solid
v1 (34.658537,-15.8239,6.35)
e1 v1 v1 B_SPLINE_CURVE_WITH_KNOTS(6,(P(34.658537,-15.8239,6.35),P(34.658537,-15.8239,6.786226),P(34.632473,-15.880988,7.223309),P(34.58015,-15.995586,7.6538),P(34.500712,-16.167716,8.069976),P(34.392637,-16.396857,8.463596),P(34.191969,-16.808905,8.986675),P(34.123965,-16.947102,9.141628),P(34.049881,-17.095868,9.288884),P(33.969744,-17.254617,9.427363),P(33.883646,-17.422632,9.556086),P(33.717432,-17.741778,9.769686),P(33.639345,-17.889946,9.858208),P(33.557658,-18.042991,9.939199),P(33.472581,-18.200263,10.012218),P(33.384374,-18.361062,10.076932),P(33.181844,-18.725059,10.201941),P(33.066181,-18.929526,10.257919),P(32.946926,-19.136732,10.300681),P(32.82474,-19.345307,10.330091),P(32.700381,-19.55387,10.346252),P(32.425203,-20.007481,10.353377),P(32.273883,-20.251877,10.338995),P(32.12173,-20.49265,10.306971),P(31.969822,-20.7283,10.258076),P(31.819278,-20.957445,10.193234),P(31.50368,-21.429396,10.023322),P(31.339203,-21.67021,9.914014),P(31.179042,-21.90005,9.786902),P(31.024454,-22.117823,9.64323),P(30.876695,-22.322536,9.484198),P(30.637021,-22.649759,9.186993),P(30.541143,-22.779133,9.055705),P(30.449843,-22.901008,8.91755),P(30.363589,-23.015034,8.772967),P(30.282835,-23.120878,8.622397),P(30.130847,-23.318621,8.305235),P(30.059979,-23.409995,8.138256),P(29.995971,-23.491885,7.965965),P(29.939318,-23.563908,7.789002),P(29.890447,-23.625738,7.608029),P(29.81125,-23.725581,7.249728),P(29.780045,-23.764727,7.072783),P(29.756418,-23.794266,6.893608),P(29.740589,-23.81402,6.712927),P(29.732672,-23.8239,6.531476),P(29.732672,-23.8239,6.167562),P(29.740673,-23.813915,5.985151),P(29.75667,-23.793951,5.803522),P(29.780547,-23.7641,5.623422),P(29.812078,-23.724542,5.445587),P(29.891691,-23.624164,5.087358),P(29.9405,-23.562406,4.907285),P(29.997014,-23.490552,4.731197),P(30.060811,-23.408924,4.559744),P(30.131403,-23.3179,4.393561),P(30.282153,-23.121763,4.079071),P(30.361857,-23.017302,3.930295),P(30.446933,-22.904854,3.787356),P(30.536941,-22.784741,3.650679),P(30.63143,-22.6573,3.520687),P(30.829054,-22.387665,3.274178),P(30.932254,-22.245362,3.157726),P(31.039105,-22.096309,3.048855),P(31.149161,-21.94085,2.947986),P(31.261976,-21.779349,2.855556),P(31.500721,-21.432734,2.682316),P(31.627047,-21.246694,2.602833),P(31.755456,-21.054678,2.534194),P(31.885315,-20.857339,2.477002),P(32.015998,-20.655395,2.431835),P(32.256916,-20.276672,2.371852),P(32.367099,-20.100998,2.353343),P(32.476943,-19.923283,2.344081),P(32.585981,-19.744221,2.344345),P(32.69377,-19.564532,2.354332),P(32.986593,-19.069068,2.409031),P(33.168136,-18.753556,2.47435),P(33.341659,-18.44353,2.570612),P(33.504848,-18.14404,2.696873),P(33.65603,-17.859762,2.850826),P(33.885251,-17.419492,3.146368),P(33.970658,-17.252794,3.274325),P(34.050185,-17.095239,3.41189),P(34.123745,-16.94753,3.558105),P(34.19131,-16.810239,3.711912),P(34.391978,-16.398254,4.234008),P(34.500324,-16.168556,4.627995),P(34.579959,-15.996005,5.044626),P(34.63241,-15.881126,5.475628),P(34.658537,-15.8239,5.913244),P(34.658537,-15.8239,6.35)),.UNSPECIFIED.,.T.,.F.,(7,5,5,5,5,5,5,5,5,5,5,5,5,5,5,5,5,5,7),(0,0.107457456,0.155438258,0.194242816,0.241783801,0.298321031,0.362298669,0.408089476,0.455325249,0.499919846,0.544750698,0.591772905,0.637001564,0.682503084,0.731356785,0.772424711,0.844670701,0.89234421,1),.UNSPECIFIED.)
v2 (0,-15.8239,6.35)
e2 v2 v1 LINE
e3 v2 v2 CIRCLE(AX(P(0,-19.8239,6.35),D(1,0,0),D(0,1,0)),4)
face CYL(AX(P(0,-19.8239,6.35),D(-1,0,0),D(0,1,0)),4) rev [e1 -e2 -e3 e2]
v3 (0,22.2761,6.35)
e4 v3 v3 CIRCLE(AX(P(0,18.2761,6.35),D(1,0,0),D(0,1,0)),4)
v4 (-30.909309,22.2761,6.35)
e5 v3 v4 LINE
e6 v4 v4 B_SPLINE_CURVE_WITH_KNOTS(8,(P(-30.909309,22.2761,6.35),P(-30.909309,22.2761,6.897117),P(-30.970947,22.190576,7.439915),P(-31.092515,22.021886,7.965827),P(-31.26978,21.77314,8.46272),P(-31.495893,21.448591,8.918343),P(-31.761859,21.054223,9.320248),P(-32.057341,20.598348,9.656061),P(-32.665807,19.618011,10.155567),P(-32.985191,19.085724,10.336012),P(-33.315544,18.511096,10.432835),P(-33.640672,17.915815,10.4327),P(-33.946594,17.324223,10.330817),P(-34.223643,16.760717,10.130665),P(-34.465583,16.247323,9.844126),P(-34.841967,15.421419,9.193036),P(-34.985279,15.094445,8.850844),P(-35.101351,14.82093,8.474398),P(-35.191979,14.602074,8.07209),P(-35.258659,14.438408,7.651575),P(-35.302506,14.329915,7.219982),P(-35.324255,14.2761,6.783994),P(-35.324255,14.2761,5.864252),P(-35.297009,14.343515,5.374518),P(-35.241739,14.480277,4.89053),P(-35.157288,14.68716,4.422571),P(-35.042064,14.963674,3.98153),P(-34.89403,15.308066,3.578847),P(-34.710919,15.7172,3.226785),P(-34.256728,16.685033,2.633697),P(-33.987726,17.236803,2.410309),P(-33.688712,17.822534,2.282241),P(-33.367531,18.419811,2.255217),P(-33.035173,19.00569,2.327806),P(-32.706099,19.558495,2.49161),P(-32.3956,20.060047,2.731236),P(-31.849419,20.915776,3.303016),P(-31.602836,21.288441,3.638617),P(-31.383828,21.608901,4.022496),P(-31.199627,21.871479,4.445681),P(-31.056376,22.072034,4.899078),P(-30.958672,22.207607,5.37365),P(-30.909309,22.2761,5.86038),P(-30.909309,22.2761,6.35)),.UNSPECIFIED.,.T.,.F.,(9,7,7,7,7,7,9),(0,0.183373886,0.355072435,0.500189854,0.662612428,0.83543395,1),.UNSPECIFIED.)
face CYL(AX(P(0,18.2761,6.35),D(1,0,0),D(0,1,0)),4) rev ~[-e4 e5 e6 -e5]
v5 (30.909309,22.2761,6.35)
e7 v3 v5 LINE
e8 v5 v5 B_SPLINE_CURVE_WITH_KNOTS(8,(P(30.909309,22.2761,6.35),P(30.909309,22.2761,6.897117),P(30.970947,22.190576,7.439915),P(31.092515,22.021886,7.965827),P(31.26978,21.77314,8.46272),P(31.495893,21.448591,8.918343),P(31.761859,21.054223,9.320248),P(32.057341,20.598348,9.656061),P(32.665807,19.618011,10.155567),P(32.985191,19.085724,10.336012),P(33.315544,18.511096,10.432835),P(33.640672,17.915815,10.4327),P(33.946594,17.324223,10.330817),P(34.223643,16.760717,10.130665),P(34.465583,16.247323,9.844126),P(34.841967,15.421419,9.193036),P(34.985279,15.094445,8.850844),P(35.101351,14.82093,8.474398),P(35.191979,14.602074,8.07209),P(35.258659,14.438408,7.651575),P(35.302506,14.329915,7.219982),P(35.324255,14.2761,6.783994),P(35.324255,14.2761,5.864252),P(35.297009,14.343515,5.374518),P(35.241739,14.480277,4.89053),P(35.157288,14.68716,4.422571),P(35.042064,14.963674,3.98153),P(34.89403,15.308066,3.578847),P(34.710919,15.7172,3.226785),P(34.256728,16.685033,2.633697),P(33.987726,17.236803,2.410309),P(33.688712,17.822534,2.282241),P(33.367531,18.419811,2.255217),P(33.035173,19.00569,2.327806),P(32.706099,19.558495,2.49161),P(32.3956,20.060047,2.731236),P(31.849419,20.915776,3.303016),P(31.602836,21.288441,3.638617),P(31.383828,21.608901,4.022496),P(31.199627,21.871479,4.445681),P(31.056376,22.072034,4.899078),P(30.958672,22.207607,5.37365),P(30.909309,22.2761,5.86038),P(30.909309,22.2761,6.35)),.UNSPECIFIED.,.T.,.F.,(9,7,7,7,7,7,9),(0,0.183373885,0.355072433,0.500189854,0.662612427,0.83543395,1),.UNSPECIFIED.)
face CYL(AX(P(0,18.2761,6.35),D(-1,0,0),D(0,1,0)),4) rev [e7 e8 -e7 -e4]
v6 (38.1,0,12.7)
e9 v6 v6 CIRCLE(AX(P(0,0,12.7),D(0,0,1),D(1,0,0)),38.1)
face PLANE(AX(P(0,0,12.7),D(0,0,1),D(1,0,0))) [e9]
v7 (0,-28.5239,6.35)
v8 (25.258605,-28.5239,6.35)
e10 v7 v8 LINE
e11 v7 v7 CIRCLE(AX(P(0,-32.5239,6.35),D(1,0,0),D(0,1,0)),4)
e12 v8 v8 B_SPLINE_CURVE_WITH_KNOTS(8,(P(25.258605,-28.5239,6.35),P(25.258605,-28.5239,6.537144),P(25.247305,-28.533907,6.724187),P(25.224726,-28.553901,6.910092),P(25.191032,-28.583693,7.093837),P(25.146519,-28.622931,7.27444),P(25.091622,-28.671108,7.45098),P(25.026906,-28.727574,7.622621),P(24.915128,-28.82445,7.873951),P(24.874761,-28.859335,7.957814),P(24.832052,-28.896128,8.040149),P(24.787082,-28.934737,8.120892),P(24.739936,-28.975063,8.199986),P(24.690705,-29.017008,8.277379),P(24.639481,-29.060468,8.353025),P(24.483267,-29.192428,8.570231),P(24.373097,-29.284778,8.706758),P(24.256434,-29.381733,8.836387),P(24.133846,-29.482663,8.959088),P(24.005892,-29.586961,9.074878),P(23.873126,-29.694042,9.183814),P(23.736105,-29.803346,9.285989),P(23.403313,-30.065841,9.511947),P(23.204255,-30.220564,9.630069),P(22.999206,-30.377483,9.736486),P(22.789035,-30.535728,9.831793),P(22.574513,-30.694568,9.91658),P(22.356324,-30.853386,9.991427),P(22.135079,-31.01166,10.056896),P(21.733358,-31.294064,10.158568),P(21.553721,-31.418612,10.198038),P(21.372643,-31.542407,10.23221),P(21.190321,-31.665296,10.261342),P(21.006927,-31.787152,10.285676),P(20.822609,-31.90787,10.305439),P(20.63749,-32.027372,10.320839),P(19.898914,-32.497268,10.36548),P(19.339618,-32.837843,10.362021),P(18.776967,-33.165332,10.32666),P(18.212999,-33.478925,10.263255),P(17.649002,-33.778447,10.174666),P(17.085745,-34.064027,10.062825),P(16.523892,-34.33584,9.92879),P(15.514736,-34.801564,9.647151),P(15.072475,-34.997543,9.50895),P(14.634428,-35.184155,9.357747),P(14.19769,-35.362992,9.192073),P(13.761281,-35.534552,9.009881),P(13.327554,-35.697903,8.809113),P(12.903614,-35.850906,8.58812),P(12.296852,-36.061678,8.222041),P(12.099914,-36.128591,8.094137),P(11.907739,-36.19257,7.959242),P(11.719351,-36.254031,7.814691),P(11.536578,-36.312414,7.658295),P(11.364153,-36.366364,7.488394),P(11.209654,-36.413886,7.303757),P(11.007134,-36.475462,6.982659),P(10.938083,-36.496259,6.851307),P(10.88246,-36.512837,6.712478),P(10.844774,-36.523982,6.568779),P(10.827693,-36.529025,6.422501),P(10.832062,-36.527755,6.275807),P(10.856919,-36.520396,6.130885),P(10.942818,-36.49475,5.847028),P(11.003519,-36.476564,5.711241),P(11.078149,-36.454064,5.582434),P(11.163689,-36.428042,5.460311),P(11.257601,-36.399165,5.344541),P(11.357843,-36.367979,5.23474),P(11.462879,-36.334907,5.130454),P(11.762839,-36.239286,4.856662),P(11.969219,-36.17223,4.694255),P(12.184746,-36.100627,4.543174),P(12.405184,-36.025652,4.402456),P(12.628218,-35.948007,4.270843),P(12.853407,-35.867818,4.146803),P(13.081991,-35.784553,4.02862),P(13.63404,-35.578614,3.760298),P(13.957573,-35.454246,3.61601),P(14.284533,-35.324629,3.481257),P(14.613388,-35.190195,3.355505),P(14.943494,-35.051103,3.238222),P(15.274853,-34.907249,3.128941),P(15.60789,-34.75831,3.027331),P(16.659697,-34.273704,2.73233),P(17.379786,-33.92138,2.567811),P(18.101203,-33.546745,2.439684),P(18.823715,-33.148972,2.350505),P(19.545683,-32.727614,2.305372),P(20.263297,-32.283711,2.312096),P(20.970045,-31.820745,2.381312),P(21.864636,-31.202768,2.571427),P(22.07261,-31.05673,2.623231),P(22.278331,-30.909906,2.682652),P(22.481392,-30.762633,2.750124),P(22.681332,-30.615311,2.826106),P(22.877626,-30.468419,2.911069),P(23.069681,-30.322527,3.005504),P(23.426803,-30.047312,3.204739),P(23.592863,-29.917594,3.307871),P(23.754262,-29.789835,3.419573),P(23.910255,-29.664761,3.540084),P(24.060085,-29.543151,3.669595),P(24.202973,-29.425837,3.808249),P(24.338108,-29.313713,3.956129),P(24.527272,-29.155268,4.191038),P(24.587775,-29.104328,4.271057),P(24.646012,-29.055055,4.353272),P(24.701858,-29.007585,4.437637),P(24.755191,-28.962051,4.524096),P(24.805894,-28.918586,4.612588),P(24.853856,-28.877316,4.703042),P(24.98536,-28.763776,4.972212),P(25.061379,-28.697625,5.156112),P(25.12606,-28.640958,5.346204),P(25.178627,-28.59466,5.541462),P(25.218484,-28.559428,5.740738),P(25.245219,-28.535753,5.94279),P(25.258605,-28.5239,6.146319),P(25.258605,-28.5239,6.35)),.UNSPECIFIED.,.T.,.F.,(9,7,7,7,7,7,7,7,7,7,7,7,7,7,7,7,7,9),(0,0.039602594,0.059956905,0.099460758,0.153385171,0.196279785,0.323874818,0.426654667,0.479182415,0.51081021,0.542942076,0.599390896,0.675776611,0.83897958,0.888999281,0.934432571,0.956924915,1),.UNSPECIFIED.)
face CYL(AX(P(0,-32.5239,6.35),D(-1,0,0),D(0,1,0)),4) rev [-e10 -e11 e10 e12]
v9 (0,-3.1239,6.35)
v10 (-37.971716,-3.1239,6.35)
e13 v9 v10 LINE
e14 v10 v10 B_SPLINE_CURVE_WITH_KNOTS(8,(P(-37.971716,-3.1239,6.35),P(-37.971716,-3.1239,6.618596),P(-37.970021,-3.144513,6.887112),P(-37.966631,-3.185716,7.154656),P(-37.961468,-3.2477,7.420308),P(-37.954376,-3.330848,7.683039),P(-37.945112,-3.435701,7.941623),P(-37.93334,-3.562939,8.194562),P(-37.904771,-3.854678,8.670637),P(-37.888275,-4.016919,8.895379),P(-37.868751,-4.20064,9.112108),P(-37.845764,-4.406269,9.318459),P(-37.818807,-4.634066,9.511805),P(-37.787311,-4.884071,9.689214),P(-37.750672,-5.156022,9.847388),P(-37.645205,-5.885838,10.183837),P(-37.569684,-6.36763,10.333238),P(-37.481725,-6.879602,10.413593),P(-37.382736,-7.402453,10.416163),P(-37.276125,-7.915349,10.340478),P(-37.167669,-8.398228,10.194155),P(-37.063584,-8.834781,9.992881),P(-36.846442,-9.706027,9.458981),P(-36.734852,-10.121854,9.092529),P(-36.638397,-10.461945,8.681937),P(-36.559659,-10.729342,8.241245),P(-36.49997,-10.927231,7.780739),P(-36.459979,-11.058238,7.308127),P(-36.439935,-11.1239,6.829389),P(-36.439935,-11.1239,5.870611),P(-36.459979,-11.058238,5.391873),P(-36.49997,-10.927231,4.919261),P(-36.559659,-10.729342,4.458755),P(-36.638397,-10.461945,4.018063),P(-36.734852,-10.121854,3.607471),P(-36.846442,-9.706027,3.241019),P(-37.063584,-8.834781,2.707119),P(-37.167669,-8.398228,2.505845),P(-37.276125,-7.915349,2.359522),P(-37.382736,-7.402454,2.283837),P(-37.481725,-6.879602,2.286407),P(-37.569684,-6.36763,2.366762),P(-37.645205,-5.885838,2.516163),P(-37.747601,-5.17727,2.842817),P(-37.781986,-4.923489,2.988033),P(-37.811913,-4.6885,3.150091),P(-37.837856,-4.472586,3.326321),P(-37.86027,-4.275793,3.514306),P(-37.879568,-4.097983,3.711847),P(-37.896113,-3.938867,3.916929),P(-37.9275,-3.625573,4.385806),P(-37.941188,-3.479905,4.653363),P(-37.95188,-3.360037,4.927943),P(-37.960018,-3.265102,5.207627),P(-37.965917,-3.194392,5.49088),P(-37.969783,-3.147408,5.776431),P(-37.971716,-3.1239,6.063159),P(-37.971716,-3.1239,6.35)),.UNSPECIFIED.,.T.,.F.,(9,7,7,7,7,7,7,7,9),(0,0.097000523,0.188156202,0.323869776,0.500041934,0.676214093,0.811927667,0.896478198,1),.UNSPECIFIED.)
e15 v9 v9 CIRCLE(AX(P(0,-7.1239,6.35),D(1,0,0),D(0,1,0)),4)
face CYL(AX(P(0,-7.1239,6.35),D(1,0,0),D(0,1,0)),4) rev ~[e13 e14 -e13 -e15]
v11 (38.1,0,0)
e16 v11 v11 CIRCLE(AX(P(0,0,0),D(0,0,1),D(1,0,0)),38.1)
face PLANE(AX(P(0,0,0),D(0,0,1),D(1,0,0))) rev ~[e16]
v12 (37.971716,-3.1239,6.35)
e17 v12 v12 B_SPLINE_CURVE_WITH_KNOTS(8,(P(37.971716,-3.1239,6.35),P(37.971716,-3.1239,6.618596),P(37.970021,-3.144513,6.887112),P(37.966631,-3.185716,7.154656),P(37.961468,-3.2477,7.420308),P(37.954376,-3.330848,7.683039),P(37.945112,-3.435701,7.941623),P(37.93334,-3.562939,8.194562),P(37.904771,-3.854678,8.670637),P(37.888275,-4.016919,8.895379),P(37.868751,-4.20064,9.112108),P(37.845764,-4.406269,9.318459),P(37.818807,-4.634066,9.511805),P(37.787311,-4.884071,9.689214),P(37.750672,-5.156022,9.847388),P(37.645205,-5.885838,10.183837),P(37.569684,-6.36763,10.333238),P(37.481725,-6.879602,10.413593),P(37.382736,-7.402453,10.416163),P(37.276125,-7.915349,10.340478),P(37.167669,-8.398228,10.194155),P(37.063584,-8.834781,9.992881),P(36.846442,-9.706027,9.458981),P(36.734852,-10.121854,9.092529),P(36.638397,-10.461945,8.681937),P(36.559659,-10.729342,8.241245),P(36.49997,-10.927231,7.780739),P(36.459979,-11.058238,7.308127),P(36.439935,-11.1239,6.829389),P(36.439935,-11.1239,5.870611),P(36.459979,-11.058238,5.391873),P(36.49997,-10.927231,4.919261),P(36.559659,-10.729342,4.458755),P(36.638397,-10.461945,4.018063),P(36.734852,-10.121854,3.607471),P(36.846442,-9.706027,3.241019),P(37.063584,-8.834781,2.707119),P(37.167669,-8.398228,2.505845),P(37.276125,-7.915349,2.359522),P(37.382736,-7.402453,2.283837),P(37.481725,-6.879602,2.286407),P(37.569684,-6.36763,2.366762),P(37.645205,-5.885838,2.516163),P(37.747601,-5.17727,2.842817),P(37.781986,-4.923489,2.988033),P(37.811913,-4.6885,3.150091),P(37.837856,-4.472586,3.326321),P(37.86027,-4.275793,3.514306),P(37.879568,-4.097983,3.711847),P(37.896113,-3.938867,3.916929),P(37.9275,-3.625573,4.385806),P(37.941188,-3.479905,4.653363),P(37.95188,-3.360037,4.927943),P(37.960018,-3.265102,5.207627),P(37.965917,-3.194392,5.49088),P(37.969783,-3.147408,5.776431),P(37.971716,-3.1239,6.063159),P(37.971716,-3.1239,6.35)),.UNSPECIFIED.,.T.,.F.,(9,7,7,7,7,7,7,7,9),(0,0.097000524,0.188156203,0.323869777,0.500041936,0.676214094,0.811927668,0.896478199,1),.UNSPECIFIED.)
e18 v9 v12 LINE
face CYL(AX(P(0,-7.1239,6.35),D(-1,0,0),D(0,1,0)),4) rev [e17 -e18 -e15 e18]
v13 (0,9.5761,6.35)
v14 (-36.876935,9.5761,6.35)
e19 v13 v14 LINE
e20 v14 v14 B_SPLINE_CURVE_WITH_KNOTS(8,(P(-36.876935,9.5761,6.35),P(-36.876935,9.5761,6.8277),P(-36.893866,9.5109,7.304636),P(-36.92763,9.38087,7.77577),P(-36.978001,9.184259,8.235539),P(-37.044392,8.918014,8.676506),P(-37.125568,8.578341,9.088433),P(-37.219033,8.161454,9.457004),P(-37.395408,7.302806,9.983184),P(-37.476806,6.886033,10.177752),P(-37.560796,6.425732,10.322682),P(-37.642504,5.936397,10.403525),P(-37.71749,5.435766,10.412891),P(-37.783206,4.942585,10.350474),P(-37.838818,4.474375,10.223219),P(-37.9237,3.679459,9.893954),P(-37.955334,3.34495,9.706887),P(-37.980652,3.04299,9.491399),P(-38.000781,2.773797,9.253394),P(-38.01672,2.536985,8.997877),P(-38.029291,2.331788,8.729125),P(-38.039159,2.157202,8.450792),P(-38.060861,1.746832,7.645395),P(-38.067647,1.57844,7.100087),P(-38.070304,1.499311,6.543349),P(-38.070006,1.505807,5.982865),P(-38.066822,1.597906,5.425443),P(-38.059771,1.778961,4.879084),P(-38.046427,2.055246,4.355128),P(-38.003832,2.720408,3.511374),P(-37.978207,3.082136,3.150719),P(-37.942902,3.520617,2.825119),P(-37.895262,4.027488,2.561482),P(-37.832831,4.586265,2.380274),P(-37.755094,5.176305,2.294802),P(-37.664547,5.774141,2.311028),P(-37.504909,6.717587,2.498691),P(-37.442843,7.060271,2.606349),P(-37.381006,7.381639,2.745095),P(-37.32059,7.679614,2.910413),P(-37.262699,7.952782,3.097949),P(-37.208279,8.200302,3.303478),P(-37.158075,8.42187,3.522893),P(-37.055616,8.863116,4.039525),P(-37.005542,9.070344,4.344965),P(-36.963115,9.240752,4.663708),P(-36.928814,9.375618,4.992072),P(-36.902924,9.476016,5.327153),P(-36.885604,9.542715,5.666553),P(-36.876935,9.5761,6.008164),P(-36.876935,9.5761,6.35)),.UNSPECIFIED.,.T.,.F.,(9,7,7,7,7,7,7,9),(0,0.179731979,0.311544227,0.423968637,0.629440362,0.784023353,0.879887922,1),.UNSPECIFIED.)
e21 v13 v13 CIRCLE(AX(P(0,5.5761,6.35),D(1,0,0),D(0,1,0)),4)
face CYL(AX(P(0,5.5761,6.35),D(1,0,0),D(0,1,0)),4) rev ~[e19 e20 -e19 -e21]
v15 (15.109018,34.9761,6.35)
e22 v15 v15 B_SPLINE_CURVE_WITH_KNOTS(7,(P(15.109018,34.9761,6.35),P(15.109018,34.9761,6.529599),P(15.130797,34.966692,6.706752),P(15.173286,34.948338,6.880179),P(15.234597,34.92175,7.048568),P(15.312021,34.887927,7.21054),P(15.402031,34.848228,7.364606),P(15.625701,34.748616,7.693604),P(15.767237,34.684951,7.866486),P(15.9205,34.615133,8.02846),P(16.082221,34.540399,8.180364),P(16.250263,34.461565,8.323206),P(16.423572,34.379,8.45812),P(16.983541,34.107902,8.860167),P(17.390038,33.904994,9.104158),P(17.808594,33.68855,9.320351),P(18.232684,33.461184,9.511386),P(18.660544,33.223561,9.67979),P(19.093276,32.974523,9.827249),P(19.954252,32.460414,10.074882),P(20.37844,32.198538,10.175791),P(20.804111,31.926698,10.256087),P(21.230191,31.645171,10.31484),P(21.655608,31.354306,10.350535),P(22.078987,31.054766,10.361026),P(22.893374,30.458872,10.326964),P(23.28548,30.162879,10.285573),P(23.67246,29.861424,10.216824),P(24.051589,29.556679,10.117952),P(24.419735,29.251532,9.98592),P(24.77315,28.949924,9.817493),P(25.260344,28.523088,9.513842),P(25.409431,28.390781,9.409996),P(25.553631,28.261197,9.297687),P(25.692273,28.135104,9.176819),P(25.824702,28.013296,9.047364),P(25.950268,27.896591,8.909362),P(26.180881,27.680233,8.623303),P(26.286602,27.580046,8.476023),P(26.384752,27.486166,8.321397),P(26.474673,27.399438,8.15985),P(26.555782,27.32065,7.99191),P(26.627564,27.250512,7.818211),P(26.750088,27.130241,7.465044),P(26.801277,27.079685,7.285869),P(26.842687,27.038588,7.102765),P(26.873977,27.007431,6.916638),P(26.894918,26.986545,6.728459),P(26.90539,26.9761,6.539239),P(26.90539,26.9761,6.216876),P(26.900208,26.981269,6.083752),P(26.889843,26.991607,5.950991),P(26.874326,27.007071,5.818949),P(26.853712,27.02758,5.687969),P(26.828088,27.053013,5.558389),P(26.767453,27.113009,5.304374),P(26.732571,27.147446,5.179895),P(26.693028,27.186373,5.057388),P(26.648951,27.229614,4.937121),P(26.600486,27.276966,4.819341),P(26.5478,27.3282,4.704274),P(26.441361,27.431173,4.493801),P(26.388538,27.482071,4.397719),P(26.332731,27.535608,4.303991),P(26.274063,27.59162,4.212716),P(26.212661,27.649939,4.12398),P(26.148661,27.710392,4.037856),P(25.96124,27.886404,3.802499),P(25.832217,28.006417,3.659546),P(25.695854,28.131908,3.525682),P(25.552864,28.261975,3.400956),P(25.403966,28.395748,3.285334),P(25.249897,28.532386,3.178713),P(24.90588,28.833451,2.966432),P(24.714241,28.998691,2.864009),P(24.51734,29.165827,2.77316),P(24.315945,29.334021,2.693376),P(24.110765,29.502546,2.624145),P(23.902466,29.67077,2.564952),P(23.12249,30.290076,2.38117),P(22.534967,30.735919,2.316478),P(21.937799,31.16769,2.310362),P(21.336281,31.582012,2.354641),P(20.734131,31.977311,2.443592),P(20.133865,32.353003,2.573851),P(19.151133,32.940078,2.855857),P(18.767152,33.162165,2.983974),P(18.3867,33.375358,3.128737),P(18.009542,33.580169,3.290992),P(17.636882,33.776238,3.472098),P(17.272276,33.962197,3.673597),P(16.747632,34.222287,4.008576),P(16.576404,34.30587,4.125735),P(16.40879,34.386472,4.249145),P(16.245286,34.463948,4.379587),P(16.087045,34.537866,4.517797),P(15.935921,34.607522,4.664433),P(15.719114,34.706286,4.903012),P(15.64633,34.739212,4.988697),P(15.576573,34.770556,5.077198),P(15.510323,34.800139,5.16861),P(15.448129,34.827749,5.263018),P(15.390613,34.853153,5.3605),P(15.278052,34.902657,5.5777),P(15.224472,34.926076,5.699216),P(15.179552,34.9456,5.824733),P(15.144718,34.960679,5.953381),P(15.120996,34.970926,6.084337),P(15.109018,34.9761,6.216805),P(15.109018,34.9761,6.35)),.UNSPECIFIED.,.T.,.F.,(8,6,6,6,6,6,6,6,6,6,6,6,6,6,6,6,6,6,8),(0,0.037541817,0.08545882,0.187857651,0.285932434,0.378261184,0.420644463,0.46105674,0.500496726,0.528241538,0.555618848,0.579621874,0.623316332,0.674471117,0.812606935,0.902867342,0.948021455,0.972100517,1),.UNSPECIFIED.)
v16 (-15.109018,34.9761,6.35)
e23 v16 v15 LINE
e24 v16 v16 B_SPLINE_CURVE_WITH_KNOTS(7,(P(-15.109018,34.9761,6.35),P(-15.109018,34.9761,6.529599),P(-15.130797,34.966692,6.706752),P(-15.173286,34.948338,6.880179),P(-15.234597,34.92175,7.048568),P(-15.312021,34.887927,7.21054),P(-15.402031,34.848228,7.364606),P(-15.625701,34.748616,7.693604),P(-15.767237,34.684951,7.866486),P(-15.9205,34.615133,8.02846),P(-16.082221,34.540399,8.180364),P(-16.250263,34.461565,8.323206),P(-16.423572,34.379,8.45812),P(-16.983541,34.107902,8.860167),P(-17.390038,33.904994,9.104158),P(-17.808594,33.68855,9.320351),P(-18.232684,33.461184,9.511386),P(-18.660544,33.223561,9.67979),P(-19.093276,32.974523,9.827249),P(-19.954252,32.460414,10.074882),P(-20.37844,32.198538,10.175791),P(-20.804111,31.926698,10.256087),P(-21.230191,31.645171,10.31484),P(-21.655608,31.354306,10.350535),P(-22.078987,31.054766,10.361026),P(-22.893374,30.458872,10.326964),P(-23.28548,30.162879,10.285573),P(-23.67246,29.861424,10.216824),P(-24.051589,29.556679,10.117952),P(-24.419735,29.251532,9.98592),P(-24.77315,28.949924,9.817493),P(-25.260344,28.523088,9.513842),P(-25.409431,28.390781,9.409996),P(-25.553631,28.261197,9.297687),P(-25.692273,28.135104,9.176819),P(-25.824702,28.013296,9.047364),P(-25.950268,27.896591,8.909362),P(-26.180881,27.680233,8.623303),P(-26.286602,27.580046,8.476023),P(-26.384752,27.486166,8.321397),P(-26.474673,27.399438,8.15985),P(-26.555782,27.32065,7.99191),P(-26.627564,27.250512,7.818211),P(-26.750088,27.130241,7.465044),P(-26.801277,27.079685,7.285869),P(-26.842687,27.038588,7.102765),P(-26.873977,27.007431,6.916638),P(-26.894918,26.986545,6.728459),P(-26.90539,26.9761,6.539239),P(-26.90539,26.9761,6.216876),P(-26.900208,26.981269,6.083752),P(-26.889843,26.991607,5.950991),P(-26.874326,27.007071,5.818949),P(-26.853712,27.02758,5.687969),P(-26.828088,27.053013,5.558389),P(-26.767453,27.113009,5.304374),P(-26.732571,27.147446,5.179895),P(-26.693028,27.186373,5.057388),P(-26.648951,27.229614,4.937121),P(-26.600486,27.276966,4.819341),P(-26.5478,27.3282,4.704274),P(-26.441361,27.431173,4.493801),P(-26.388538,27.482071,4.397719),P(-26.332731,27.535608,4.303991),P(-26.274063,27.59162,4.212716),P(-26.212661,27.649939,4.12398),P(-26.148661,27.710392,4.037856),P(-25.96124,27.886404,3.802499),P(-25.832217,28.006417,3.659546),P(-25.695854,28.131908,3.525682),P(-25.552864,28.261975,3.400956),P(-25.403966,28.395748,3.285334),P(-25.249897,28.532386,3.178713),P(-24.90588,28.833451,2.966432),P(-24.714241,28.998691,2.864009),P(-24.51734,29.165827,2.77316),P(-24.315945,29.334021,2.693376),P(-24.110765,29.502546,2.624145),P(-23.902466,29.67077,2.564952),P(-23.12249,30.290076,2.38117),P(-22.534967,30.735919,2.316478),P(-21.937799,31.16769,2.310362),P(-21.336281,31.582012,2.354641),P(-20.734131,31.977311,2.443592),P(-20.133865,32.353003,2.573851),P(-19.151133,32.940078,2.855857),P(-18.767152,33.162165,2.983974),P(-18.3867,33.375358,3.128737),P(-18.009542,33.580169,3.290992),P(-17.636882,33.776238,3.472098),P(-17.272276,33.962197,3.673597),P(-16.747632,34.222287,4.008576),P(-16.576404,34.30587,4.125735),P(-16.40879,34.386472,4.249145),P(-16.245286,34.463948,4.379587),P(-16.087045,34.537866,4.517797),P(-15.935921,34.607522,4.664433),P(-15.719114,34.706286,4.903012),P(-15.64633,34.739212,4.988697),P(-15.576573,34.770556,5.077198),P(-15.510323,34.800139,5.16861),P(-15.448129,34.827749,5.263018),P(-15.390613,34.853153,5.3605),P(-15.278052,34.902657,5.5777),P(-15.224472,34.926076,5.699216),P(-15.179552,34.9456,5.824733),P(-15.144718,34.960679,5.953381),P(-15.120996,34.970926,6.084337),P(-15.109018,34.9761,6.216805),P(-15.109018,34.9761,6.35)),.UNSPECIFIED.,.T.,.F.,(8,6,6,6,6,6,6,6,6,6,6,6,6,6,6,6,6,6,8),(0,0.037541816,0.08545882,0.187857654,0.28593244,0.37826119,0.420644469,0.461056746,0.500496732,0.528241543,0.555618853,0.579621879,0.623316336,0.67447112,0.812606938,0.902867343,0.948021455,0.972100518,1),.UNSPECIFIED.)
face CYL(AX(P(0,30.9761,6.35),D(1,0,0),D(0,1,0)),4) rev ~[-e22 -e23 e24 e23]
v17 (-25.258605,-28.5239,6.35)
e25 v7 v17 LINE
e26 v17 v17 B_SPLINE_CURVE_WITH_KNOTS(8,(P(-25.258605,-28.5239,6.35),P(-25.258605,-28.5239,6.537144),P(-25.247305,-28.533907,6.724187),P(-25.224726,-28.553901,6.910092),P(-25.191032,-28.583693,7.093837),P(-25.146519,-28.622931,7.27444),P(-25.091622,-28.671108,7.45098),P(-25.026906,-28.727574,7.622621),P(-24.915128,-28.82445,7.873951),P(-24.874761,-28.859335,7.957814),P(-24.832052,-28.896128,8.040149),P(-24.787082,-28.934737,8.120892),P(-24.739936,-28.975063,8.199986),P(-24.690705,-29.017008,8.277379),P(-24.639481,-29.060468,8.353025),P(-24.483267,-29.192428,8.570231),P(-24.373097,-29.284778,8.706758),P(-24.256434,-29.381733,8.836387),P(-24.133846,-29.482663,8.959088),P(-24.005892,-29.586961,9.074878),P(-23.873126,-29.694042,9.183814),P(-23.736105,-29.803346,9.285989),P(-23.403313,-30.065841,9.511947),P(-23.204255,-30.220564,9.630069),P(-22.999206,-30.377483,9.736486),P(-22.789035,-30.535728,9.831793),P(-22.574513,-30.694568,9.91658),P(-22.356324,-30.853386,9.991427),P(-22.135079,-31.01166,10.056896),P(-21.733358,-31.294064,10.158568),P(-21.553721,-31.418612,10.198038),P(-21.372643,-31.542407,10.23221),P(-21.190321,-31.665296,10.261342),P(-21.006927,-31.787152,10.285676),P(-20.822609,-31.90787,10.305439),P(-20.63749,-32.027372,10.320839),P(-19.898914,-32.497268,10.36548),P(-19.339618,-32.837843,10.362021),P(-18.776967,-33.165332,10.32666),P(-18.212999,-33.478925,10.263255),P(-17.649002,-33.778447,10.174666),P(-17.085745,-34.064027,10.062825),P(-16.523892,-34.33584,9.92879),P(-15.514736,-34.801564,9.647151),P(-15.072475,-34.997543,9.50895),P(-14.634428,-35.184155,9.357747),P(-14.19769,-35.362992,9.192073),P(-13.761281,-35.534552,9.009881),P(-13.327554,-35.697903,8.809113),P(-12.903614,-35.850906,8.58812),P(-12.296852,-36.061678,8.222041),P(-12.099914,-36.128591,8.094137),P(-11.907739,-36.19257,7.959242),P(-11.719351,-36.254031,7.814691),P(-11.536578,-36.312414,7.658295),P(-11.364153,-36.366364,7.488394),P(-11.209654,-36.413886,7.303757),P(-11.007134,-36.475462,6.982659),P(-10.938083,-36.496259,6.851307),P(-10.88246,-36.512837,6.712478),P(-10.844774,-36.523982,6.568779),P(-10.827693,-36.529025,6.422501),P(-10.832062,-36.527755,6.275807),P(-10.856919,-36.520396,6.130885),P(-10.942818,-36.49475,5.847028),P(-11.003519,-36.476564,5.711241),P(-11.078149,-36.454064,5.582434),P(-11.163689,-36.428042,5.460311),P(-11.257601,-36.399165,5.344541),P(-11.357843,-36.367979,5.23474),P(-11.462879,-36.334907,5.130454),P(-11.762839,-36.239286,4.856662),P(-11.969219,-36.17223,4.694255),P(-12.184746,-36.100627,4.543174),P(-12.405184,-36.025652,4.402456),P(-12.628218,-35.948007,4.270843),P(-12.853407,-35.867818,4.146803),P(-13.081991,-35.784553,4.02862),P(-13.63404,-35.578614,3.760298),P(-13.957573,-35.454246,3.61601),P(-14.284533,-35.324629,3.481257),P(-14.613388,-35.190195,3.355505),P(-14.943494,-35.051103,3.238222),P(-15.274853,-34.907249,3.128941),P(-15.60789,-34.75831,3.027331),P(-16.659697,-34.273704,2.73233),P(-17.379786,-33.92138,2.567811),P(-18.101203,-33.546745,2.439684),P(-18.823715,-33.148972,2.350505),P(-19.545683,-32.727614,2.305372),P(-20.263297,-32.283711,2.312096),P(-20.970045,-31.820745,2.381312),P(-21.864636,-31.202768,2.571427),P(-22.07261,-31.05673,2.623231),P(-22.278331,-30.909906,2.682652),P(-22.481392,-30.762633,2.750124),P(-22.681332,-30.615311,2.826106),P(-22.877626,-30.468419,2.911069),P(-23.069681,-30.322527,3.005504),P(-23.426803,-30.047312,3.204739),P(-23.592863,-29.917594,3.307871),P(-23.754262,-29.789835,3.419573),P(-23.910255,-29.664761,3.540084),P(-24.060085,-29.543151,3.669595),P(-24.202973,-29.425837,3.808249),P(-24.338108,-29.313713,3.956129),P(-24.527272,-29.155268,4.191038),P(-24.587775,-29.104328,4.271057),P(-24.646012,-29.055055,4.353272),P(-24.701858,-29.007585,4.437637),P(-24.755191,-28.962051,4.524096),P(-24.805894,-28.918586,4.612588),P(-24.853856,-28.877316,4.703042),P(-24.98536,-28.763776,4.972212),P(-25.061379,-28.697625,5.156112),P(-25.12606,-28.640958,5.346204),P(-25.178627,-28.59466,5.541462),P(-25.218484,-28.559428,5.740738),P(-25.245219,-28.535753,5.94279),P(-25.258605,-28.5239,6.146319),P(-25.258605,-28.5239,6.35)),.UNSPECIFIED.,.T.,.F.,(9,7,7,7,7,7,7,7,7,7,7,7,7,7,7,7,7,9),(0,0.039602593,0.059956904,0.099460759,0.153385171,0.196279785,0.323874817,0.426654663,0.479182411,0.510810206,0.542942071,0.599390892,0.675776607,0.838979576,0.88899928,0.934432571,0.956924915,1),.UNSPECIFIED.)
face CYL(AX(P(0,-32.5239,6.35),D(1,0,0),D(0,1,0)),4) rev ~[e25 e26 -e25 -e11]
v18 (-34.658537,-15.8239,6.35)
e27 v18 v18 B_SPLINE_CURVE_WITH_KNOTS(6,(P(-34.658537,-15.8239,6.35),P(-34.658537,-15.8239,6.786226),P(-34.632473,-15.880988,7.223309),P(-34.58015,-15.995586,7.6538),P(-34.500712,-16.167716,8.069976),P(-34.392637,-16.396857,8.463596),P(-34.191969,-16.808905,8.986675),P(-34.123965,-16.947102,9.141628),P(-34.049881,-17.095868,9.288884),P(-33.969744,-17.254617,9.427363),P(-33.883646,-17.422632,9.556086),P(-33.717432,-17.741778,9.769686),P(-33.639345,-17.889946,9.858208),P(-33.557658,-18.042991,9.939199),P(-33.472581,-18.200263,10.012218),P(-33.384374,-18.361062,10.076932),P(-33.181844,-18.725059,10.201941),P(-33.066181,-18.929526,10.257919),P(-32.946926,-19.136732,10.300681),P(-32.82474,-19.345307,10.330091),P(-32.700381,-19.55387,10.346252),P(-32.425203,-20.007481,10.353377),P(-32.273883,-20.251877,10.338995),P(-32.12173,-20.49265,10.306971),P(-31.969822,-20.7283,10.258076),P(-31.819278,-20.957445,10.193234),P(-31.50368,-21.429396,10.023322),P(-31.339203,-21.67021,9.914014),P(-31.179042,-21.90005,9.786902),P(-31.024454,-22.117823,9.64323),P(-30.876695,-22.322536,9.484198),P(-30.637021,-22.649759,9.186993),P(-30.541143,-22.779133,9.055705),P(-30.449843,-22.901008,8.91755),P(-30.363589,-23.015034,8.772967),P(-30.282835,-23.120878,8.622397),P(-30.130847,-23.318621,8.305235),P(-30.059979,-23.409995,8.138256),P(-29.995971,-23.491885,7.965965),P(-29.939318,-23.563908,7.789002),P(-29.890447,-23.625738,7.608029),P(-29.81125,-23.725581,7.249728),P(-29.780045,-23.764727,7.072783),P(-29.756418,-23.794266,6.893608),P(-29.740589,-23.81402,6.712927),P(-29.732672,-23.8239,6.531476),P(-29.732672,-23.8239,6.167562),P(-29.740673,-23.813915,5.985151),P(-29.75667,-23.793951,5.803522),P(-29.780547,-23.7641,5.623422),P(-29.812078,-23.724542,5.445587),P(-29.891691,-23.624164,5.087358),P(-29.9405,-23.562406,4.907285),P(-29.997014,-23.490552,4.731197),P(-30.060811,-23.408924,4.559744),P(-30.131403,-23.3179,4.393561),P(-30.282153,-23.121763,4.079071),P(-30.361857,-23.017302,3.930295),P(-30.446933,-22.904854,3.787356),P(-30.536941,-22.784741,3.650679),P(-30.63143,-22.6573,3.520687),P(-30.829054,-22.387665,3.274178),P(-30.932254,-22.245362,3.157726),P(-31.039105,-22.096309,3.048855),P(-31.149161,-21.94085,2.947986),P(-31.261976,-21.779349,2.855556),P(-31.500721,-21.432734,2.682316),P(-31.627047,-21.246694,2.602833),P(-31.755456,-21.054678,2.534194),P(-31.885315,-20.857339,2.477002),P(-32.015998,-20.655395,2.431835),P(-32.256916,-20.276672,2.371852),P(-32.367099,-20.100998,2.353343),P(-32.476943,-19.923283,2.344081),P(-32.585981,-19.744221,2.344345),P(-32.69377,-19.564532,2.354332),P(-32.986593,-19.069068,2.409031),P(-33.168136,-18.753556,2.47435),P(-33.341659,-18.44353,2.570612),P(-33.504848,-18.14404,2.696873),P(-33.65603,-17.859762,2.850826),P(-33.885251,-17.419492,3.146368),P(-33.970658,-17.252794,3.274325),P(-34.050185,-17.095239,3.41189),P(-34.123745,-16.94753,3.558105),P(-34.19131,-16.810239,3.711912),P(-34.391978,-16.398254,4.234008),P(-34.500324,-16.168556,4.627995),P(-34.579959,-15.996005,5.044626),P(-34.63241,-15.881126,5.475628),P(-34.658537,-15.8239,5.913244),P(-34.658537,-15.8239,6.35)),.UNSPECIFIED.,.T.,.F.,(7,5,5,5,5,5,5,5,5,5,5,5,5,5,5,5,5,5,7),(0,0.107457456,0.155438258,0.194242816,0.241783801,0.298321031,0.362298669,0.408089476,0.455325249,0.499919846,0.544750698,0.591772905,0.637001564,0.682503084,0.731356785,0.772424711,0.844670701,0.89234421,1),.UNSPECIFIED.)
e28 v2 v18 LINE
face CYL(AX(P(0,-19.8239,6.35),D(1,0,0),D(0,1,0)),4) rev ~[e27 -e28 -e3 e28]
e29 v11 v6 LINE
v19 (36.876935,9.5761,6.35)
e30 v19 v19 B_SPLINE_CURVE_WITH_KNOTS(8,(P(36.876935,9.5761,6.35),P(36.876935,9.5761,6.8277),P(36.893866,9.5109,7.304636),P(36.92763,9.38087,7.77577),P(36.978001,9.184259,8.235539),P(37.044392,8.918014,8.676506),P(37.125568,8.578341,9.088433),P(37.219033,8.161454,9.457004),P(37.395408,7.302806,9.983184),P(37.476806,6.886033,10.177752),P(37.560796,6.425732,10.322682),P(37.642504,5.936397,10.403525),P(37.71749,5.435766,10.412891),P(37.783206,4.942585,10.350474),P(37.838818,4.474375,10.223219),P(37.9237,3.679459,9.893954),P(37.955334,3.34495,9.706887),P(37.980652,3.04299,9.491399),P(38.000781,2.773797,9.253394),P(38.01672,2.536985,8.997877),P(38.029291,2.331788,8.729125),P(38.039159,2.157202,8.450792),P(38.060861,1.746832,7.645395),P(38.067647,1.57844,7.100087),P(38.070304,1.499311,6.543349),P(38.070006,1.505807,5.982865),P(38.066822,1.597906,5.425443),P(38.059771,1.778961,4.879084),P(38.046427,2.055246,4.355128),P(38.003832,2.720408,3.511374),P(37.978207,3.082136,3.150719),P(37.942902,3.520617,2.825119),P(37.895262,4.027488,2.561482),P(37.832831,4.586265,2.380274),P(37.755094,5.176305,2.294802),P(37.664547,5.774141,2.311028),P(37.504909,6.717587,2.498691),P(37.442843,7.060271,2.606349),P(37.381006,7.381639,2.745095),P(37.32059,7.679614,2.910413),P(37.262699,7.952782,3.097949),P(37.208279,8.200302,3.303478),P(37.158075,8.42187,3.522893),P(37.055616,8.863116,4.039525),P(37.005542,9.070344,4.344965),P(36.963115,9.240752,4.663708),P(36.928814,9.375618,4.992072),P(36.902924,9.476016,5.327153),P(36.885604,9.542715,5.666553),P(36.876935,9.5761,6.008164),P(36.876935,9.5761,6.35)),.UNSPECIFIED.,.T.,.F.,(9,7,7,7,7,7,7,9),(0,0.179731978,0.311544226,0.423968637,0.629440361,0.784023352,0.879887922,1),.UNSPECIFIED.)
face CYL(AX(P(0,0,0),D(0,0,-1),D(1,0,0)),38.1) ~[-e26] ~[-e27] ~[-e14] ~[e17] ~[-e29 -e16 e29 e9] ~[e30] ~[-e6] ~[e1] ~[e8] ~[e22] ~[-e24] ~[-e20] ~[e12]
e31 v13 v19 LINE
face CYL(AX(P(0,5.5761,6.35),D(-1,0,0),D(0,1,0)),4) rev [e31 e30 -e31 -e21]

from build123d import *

# Parameters (mm, degrees)
F0_R     = 38.1
F1_DEPTH = 12.7
F2_R     = 4
F3_DEPTH = 50


with BuildPart() as f1:
    # F0 (on Top) → F1 (new body)
    with BuildSketch(Plane.XY):
        Circle(F0_R)
    extrude(amount=F1_DEPTH)

    # F2 (on Right) → F3 (cut, symmetric)
    with BuildSketch(Plane.YZ):
        with Locations((-32.5239, 6.35)):
            Circle(F2_R)
        with Locations((-19.8239, 6.35)):
            Circle(F2_R)
        with Locations((-7.1239, 6.35)):
            Circle(F2_R)
        with Locations((5.5761, 6.35)):
            Circle(F2_R)
        with Locations((18.2761, 6.35)):
            Circle(F2_R)
        with Locations((30.9761, 6.35)):
            Circle(F2_R)
    extrude(amount=F3_DEPTH, both=True, mode=Mode.SUBTRACT)


solid = f1.part
